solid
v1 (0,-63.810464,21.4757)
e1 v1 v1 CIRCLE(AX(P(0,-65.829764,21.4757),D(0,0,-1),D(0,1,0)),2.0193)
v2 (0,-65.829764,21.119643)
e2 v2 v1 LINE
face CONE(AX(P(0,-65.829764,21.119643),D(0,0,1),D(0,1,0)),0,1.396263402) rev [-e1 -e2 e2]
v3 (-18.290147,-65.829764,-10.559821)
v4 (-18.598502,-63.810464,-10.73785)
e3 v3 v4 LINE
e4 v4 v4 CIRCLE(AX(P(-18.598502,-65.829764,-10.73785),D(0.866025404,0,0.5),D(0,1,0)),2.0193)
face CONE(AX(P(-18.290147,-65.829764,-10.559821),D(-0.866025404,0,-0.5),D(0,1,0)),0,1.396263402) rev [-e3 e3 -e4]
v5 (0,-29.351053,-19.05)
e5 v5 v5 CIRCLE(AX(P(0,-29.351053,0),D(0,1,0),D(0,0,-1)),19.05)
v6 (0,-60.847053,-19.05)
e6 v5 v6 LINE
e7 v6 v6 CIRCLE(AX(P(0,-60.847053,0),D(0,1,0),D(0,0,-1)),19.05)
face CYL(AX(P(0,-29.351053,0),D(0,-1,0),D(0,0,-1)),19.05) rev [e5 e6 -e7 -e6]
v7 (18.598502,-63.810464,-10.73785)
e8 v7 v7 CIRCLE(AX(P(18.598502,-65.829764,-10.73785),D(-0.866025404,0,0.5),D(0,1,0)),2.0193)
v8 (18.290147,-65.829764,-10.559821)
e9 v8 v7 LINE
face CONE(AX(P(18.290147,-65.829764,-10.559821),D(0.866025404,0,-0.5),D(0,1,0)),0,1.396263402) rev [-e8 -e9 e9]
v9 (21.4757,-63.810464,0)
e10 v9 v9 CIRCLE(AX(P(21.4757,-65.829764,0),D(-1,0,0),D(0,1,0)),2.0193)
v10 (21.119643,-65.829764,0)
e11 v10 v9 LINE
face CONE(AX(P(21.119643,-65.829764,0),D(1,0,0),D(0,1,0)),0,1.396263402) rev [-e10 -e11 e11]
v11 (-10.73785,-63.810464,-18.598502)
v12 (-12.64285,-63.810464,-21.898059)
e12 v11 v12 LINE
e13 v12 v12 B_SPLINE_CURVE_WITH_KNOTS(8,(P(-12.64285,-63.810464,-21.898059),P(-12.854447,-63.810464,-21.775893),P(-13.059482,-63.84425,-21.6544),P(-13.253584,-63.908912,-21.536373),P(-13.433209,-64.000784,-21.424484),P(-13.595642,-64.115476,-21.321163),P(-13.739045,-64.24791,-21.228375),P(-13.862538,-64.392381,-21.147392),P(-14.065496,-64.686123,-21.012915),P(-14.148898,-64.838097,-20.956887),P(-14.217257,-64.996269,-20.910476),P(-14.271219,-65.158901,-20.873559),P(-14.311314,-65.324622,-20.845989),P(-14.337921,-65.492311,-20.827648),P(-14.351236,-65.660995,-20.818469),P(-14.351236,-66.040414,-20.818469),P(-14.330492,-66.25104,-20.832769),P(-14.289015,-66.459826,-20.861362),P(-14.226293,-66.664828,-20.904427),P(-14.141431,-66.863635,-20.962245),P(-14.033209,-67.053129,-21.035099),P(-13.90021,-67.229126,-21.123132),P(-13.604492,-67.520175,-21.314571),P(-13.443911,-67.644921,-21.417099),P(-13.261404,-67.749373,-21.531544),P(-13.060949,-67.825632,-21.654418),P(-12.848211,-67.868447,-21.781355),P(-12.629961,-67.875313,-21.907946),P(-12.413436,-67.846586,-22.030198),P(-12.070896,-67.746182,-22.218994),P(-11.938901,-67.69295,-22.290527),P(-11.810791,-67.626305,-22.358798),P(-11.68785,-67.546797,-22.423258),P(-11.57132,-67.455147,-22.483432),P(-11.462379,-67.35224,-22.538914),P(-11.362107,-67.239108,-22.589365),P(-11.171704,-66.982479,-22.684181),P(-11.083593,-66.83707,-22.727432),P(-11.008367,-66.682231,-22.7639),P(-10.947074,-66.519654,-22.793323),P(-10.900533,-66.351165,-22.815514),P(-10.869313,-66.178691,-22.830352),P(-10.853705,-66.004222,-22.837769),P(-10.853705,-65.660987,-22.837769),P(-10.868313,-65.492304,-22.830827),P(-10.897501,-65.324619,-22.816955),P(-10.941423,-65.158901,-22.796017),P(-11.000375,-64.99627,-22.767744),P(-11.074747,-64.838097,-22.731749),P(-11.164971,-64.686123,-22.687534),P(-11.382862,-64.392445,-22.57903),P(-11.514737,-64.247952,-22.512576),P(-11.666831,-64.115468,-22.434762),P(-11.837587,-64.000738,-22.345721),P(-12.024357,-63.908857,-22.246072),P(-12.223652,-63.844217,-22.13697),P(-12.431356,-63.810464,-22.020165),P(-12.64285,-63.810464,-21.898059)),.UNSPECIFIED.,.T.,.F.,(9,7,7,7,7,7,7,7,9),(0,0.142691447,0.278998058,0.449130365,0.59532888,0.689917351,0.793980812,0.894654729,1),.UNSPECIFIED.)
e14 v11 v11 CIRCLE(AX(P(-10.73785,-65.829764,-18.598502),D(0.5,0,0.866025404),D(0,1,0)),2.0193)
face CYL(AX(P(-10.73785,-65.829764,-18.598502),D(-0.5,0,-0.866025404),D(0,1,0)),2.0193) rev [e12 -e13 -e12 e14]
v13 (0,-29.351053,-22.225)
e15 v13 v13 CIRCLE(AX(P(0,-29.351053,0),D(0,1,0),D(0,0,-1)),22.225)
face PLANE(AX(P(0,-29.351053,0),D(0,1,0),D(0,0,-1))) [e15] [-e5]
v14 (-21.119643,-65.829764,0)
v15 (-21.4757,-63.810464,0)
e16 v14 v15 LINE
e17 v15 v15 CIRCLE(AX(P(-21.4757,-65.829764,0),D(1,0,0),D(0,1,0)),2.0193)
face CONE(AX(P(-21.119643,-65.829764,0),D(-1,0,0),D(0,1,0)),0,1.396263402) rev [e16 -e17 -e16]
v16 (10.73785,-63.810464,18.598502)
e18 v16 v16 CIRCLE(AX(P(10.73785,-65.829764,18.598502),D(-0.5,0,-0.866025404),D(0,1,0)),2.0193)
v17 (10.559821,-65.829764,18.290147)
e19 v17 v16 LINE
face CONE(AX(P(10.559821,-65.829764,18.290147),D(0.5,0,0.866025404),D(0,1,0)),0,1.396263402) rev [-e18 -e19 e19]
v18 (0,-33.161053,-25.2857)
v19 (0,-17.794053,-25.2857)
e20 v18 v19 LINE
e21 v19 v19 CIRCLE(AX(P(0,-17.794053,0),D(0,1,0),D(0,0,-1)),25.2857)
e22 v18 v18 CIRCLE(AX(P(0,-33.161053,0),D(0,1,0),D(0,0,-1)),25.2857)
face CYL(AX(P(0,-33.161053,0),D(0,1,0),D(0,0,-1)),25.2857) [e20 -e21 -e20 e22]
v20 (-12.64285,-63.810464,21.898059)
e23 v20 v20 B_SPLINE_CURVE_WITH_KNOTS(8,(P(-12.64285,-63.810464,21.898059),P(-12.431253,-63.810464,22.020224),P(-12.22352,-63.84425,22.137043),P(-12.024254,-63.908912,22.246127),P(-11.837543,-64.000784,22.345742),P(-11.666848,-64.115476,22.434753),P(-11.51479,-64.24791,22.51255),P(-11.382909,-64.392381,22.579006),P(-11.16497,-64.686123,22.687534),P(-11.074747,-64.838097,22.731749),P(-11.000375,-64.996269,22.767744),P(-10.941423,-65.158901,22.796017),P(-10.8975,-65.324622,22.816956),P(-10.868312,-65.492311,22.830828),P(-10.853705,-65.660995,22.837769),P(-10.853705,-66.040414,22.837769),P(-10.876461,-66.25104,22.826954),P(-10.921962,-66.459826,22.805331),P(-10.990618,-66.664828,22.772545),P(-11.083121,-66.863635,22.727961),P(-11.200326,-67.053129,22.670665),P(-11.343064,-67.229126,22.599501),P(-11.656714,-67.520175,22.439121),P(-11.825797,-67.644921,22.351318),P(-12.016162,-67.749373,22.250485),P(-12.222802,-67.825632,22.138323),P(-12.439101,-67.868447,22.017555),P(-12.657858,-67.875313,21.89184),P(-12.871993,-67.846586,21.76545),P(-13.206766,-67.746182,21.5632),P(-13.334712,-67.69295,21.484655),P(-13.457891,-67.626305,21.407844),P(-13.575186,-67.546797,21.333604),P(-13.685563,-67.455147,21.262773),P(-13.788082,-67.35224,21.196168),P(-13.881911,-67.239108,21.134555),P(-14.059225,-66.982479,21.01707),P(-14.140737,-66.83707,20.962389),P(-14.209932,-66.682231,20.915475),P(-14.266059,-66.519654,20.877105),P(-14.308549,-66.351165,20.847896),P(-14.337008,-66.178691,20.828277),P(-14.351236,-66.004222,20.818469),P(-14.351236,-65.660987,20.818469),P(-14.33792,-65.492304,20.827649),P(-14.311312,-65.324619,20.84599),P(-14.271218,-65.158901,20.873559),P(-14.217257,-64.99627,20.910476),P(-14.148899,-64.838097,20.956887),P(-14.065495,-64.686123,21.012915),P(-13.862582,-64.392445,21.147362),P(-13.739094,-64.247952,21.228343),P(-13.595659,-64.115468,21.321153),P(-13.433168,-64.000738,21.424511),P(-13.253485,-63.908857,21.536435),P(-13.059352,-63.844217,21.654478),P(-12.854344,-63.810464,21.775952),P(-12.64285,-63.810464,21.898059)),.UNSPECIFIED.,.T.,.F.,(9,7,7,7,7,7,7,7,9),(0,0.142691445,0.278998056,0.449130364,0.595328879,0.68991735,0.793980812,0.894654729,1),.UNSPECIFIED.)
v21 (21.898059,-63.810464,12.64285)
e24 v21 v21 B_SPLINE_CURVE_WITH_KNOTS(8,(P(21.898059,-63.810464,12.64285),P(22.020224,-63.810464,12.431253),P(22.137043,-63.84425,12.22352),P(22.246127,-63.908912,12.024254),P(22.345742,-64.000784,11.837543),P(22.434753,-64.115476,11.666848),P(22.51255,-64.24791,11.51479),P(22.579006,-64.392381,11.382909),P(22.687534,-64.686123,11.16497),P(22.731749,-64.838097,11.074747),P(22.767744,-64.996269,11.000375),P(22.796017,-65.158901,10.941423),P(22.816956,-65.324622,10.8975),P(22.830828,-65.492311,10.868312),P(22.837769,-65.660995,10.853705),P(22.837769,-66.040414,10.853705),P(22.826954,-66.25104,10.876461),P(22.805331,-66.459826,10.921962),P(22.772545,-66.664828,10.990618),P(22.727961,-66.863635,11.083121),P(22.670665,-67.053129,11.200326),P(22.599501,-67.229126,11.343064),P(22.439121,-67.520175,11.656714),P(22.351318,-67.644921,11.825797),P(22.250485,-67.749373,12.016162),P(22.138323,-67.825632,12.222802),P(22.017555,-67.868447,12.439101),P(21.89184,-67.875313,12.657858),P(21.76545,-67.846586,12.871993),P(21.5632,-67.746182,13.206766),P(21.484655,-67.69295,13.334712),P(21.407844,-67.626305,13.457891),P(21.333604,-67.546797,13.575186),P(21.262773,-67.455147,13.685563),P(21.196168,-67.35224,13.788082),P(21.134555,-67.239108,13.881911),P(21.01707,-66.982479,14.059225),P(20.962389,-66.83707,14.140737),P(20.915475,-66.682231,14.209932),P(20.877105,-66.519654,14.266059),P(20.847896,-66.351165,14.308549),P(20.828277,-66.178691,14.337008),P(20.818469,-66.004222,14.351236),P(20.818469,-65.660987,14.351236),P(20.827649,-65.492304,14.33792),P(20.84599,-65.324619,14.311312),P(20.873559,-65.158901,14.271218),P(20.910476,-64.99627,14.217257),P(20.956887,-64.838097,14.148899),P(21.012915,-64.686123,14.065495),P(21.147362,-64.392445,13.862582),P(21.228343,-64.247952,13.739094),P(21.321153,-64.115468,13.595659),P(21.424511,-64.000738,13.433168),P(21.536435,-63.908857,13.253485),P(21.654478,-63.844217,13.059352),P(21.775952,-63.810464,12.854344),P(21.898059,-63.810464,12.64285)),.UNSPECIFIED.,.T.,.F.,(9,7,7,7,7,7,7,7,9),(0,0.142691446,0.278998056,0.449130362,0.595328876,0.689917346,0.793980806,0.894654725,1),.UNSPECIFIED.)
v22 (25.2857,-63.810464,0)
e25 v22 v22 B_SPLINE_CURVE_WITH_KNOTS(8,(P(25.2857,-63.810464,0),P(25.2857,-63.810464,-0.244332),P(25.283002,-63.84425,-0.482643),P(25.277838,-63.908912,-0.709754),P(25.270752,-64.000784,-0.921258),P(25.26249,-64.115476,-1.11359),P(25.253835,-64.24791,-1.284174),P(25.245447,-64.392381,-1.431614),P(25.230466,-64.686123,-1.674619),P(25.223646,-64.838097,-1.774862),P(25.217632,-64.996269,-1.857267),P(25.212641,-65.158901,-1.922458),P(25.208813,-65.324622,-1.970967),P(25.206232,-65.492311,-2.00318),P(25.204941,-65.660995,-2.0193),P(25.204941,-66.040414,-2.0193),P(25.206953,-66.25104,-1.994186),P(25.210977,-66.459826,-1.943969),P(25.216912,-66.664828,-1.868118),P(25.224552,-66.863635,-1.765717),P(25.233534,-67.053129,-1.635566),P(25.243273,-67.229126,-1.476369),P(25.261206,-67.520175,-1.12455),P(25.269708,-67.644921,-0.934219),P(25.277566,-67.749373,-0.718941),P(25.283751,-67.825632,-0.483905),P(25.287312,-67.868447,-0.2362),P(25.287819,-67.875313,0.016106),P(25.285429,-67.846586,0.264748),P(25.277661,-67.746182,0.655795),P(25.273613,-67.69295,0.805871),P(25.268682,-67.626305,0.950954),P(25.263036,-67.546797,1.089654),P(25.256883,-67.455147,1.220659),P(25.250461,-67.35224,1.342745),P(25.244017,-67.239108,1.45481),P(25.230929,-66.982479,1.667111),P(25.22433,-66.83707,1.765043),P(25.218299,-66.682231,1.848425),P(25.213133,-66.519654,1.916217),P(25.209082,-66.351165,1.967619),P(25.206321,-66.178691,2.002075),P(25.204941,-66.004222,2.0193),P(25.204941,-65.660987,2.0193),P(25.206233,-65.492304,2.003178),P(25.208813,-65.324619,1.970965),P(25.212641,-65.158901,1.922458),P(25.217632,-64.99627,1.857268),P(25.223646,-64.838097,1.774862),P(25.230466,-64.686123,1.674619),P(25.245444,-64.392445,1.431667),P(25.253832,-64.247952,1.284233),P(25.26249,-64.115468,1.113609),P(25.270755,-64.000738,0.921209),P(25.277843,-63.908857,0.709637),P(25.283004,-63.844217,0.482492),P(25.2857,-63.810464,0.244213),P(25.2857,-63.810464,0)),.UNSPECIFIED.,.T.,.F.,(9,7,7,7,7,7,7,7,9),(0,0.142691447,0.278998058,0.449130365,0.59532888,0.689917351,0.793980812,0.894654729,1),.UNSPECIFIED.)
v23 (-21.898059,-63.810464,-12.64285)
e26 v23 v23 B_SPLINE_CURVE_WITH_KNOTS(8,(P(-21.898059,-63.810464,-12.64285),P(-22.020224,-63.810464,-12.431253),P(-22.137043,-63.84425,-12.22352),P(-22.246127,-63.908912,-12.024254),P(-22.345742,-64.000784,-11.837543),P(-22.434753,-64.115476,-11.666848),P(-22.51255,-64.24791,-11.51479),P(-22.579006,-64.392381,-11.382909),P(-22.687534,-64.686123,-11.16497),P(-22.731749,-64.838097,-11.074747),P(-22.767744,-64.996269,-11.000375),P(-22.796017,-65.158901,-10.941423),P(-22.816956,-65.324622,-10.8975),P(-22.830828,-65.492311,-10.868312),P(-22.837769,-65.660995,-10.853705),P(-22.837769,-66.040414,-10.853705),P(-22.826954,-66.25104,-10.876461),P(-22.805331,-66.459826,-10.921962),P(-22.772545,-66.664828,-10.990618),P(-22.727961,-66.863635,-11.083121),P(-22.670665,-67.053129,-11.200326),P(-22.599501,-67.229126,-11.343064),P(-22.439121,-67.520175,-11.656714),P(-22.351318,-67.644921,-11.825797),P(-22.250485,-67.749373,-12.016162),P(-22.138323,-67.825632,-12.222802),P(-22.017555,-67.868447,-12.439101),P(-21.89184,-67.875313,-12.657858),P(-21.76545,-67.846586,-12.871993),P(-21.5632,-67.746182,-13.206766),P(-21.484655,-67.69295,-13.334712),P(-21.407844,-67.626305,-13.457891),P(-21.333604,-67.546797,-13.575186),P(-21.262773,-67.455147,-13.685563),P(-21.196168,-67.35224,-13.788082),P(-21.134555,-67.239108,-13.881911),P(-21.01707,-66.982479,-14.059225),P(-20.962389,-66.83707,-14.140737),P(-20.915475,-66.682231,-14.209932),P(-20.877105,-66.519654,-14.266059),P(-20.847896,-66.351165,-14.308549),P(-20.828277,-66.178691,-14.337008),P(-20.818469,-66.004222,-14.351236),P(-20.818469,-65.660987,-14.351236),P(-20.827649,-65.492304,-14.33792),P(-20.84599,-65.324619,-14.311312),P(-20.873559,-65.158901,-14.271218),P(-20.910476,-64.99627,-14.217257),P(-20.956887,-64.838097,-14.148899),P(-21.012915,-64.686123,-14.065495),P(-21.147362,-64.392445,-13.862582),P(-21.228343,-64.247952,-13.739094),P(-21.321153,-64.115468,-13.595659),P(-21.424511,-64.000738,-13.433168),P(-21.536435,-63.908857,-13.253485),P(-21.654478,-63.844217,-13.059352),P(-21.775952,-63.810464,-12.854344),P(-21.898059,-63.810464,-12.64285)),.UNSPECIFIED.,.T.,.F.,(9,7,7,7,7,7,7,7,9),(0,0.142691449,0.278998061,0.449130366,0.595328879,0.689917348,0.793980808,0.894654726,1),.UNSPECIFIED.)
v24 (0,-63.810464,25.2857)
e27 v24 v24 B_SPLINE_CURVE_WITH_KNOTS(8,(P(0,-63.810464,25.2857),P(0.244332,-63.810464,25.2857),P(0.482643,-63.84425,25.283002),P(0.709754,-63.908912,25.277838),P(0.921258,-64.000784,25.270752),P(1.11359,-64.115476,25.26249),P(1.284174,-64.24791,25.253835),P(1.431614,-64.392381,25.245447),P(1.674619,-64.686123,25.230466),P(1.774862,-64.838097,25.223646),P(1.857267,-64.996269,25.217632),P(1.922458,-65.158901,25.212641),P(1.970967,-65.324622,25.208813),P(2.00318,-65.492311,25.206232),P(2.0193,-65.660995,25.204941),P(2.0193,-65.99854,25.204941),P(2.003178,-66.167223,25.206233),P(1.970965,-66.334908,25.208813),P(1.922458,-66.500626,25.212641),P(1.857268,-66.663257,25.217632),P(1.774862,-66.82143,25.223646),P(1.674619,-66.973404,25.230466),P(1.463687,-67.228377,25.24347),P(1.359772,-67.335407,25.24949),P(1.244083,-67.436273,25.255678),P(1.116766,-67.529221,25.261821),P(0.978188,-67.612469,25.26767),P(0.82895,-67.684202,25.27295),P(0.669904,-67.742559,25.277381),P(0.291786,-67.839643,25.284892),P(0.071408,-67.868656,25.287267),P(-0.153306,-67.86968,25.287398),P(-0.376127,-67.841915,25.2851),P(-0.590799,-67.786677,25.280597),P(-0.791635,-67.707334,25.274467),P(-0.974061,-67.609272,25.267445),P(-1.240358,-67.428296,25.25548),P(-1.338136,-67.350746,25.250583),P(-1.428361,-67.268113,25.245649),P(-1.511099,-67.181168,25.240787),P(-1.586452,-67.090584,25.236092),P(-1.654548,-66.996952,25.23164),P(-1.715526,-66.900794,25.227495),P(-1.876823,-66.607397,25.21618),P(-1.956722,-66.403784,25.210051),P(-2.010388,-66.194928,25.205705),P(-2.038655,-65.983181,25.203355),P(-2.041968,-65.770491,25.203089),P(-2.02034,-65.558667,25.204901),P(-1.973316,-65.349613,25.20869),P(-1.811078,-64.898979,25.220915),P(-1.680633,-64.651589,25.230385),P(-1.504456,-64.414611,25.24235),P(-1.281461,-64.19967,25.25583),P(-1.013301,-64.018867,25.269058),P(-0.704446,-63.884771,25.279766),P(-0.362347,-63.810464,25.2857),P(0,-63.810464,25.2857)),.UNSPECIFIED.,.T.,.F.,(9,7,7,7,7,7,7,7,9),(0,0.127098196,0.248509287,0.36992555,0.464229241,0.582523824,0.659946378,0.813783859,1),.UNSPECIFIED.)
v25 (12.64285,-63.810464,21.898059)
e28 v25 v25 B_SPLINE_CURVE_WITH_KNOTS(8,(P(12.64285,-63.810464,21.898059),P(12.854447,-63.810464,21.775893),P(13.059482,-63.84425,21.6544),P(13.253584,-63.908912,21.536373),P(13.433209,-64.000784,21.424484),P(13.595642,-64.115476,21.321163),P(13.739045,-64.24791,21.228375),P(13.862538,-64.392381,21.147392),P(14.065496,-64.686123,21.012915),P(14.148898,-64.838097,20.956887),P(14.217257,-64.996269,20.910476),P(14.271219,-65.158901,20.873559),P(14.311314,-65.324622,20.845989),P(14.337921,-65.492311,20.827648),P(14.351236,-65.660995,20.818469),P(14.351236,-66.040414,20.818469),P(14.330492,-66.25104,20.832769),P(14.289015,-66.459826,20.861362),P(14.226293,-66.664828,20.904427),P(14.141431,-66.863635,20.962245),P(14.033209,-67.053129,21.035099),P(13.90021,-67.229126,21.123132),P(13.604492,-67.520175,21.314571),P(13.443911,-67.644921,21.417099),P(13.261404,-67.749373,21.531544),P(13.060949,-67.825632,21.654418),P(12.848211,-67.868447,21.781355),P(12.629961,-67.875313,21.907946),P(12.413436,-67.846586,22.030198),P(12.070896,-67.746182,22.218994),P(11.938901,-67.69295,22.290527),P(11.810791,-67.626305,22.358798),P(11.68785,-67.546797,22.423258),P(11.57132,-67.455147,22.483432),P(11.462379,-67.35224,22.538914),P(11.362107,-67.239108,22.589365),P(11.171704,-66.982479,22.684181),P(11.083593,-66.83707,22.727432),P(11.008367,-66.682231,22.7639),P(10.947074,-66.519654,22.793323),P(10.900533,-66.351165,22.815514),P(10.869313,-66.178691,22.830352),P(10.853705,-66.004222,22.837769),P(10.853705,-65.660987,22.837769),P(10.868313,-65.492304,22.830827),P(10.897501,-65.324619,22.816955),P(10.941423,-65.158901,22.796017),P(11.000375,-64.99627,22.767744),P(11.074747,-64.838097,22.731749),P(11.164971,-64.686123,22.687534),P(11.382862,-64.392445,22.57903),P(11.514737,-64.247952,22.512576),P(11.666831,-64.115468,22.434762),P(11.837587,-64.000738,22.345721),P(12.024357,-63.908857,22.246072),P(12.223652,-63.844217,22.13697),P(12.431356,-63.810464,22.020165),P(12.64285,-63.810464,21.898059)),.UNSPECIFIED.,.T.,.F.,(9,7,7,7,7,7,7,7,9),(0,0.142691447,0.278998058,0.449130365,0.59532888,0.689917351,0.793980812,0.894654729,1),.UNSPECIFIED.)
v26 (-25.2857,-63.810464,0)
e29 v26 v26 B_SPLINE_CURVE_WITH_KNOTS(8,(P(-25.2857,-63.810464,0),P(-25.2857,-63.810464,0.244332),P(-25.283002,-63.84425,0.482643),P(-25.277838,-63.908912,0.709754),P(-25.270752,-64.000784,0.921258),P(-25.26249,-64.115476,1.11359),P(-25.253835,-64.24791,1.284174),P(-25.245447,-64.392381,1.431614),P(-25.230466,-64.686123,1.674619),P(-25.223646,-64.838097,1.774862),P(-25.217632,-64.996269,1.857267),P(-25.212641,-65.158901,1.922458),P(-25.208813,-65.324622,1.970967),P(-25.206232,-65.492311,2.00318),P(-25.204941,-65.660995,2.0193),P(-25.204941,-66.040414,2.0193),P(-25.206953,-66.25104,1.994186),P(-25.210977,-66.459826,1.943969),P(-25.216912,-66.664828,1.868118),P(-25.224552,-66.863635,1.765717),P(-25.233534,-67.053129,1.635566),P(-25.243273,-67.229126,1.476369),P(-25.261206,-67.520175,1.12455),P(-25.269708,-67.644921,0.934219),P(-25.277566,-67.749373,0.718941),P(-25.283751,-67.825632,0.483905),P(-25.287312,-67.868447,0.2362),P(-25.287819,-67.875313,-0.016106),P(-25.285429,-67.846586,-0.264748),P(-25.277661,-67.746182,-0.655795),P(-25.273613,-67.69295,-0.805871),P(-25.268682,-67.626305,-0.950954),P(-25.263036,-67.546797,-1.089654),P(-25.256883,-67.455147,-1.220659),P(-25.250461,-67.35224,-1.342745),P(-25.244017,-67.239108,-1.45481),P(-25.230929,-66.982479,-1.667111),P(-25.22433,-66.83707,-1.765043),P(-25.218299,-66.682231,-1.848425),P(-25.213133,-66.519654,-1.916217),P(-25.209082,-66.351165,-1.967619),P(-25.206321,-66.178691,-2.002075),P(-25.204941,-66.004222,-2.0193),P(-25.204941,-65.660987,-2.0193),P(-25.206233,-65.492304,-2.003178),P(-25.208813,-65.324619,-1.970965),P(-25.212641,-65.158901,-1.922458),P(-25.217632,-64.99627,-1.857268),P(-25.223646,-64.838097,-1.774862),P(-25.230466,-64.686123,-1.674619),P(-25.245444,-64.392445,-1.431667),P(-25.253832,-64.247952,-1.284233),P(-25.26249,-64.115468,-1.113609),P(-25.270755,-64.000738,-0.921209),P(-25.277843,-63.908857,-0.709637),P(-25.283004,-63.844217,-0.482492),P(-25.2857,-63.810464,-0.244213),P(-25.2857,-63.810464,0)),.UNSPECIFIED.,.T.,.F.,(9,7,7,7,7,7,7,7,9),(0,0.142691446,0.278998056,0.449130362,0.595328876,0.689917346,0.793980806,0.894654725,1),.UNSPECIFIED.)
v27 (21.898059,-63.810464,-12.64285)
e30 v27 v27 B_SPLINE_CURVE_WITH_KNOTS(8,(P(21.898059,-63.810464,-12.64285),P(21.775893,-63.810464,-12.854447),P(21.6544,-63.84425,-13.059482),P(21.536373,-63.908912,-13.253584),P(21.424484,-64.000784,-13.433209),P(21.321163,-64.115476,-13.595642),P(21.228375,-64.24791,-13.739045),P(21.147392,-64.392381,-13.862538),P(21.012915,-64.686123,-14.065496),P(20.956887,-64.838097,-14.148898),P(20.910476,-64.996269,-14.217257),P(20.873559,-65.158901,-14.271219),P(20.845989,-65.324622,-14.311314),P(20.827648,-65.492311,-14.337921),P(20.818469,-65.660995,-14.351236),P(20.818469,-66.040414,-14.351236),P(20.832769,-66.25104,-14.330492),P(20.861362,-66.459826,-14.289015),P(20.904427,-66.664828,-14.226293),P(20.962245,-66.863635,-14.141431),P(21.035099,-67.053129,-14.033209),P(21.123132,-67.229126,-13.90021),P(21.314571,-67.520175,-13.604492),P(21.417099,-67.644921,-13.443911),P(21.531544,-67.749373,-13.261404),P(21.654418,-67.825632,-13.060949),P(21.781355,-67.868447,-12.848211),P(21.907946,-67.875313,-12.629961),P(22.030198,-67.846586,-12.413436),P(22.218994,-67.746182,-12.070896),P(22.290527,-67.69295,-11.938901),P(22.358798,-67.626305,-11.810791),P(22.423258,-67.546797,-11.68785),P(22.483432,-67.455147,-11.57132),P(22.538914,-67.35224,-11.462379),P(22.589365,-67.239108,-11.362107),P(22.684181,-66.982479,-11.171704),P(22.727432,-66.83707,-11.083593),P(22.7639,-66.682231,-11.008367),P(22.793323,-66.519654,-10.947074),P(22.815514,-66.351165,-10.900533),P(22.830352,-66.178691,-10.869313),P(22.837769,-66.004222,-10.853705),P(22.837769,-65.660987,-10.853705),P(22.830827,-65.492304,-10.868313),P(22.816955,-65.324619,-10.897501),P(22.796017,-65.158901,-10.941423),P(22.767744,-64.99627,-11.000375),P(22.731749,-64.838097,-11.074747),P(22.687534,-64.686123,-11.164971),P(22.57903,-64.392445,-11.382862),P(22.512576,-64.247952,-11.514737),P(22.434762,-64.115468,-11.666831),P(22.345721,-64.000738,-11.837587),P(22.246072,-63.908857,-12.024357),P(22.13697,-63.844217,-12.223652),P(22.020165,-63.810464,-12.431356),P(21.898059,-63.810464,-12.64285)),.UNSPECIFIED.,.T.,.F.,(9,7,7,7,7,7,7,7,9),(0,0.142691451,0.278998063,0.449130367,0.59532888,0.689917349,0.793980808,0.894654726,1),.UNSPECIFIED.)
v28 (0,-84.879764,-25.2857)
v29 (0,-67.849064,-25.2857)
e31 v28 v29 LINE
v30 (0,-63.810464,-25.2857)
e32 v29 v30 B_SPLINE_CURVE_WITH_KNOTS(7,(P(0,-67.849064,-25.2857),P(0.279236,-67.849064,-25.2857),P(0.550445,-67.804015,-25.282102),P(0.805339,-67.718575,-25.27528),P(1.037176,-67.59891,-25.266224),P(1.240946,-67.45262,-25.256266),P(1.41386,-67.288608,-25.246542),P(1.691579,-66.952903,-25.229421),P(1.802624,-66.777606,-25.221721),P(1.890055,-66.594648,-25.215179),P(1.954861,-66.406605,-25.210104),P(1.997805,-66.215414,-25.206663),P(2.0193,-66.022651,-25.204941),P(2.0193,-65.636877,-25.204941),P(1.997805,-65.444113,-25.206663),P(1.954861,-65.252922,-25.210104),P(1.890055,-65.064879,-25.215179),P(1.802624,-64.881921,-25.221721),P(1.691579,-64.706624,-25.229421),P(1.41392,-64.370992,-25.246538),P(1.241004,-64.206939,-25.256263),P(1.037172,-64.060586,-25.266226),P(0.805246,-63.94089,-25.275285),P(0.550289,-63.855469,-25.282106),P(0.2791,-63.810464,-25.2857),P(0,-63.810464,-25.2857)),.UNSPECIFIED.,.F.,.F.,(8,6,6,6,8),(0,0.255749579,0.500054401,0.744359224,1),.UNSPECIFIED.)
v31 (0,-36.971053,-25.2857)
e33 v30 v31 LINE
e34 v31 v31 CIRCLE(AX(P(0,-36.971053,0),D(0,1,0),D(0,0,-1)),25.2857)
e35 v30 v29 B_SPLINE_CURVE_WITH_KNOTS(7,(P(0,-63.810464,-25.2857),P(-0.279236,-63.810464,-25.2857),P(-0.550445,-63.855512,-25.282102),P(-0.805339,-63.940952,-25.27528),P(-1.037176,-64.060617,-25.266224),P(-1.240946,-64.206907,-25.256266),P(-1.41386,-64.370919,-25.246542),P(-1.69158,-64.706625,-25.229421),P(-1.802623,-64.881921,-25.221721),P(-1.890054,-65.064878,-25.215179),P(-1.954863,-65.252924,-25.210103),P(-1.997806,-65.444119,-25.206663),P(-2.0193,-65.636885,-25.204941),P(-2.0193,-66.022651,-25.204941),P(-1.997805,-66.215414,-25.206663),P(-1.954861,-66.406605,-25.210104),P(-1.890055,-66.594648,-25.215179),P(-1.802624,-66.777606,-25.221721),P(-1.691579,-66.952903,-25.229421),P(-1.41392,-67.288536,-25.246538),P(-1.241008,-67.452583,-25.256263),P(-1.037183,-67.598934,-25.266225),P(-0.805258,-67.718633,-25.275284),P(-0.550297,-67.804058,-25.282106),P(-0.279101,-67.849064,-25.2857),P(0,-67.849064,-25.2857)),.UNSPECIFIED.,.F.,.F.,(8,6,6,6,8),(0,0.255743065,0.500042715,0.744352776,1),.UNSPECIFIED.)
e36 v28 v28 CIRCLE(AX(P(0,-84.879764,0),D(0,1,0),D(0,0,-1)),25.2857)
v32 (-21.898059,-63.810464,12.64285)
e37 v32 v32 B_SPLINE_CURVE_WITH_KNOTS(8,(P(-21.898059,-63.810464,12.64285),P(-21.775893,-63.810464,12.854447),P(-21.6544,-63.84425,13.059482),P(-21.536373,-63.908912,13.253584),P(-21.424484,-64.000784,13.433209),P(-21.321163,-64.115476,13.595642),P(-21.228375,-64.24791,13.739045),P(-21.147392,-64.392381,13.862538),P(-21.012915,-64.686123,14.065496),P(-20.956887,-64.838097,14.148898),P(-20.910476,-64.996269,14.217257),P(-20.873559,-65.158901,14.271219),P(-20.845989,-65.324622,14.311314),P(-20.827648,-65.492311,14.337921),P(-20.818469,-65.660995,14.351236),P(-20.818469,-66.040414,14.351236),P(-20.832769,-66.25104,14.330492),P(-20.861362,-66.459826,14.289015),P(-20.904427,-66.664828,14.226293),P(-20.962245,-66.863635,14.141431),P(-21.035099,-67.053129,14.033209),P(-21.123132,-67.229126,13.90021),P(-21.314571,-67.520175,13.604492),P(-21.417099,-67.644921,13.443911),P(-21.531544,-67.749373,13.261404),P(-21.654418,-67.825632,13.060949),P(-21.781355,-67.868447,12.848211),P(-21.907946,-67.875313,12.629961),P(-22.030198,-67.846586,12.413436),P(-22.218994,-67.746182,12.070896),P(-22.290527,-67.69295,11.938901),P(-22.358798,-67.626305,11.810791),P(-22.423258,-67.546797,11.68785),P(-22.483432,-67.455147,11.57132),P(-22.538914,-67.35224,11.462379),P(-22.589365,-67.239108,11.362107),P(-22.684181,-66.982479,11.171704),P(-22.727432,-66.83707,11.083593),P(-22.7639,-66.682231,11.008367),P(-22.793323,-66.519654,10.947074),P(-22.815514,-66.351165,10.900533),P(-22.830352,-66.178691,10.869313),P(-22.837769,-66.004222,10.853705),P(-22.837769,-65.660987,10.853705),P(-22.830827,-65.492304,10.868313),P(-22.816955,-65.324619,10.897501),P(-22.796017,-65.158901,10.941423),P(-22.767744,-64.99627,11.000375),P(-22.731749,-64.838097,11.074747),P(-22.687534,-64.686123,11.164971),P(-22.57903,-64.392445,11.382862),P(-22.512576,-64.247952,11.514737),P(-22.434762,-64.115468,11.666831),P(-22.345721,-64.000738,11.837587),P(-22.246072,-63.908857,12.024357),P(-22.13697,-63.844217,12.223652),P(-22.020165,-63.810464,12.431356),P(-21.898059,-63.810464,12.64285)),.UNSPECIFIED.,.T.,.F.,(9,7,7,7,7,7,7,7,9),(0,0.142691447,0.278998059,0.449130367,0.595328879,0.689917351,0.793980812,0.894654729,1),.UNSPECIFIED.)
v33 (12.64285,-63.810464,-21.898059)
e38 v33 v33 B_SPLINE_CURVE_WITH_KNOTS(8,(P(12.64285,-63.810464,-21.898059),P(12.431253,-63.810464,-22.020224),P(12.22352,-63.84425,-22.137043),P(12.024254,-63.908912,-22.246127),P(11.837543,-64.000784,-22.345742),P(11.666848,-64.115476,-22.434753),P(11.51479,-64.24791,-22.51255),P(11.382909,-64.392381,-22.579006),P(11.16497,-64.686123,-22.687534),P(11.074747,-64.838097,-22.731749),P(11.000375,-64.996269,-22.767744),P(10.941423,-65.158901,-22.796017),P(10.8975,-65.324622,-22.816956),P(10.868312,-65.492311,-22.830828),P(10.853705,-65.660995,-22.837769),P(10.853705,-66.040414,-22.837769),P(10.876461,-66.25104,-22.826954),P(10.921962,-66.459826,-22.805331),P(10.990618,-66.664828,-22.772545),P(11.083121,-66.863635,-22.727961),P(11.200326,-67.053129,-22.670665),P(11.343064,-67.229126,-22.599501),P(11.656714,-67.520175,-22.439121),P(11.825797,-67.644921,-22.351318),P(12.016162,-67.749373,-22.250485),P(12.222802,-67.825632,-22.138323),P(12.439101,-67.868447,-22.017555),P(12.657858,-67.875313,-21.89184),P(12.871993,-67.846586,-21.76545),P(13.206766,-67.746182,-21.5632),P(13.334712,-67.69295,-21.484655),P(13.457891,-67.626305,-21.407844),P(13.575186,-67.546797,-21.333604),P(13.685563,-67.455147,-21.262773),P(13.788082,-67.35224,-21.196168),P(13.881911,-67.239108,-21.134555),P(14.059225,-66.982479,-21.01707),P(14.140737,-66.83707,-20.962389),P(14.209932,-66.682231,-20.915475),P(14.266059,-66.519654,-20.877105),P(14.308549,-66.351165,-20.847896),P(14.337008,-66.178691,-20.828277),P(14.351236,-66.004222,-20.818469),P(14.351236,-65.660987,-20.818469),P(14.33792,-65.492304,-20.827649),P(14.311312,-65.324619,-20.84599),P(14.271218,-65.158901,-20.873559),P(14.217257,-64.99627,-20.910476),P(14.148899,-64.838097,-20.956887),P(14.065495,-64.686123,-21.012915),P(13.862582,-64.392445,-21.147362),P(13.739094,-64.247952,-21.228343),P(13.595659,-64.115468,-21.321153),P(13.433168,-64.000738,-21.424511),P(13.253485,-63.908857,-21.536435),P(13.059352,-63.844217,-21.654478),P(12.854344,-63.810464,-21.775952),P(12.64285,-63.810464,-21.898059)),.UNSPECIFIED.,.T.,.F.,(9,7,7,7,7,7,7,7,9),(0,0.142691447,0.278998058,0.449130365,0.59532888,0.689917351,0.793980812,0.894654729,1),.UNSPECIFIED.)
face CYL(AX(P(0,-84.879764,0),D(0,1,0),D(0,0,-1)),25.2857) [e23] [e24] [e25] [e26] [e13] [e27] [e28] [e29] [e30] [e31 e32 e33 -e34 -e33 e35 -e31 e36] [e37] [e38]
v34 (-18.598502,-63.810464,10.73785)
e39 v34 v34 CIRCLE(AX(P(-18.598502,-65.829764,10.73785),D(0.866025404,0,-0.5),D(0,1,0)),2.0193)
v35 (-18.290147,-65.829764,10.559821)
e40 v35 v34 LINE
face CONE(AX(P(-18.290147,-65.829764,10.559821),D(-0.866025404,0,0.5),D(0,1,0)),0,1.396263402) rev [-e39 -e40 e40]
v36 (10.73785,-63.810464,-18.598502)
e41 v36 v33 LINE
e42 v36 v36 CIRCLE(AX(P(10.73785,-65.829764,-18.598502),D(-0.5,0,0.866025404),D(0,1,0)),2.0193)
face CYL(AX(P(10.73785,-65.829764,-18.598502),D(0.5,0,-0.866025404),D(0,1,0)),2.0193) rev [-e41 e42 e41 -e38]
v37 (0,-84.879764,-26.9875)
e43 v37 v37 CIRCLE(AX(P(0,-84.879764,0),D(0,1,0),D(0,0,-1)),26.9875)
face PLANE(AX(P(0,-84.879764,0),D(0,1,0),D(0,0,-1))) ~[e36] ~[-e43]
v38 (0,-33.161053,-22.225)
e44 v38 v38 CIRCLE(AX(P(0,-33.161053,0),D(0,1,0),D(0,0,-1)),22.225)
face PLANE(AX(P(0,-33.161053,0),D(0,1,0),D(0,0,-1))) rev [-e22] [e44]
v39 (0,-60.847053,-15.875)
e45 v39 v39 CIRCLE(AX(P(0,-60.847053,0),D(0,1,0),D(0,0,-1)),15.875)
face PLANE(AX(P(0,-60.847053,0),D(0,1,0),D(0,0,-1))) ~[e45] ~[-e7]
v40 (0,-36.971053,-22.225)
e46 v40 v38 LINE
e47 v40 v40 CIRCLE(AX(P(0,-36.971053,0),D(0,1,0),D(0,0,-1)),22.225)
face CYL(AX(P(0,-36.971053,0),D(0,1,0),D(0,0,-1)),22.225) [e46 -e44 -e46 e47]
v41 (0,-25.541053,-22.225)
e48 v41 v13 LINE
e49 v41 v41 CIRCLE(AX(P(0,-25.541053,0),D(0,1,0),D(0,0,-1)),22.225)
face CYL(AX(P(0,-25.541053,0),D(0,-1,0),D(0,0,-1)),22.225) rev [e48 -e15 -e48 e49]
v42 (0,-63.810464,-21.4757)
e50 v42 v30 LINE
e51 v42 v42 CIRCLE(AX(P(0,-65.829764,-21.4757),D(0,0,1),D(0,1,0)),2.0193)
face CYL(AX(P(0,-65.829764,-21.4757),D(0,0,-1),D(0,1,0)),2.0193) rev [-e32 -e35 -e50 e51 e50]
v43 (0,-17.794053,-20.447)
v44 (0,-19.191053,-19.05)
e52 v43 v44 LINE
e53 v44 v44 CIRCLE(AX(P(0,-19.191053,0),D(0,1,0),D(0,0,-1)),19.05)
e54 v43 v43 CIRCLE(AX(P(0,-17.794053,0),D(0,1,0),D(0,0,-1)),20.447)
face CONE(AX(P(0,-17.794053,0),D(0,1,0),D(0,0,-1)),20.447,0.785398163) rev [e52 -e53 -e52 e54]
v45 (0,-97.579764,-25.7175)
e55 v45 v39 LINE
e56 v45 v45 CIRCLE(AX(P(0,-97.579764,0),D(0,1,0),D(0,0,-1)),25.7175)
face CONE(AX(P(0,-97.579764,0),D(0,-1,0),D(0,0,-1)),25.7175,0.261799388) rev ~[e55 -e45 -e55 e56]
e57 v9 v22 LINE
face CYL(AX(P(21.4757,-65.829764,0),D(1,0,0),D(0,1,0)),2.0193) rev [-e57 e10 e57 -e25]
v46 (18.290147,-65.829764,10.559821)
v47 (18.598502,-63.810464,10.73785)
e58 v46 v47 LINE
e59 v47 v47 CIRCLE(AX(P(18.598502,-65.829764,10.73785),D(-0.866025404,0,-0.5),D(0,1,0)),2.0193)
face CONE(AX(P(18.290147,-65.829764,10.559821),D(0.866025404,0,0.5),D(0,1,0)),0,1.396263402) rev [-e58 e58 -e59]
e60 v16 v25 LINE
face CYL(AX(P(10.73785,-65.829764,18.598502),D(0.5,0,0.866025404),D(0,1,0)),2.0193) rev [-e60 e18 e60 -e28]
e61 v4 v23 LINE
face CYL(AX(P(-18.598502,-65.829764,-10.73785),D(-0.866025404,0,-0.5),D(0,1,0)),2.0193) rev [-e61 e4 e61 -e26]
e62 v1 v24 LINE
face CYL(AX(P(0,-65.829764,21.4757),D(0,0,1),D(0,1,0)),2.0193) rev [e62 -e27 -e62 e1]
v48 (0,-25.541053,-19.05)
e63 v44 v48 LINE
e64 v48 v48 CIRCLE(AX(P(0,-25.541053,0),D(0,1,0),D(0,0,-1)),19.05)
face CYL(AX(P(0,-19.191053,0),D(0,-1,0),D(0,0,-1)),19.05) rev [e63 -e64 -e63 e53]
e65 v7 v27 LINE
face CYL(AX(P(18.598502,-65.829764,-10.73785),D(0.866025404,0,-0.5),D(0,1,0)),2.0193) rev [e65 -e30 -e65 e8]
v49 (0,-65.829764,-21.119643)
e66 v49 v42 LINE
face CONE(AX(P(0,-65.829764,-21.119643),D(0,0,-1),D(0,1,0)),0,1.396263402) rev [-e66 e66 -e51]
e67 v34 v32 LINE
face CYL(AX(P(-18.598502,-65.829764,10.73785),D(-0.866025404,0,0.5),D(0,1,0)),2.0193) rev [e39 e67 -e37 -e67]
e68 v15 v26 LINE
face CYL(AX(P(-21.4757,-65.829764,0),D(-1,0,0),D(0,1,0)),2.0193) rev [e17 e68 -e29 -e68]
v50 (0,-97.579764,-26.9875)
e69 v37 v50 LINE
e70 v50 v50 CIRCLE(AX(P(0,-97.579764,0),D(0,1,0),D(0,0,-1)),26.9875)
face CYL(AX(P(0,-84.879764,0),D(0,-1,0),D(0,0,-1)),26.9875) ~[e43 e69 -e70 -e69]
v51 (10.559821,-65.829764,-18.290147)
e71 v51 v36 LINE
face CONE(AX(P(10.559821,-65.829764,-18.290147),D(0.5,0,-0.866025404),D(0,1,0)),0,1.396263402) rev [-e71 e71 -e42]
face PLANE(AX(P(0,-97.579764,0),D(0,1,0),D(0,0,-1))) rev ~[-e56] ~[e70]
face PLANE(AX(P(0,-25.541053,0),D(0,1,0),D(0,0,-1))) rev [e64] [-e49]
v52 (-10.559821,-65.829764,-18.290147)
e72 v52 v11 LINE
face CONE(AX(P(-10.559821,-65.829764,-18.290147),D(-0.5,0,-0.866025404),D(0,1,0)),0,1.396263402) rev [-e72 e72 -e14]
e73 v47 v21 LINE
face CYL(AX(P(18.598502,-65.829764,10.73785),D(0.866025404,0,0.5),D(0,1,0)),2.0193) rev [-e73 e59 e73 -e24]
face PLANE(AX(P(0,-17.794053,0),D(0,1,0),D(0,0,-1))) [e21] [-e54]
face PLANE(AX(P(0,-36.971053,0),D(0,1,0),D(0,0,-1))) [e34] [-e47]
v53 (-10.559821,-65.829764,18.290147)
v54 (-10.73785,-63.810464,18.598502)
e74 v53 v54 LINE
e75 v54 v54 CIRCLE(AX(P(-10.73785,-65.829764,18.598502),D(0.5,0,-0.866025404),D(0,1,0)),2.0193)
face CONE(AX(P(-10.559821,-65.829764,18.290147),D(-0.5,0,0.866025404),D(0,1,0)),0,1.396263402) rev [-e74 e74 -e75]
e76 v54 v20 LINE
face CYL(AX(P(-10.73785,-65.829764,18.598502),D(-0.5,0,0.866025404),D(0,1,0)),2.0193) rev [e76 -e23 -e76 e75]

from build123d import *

# Parameters (mm, degrees)
CIRPATTERN1_COUNT = 12


with BuildPart() as part:
    # Sketch1 → Revolve1 (revolve)
    with BuildSketch(Plane.XY, mode=Mode.PRIVATE) as revolve1_sk:
        Polygon((19.05, -29.351053449), (19.05, -60.847053449), (25.2857, -60.847053449), (25.2857, -36.971053449), (22.225, -36.971053449), (22.225, -33.161053449), (25.2857, -33.161053449), (25.2857, -17.794053449), (20.447, -17.794053449), (19.05, -19.191053449), (19.05, -25.541053449), (22.225, -25.541053449), (22.225, -29.351053449), align=None)
        Polygon((25.2857, -84.879763523), (26.9875, -84.879763523), (26.9875, -97.579763523), (25.7175, -97.579763523), (15.875, -60.847053449), (19.05, -60.847053449), (25.2857, -60.847053449), align=None)
    revolve(revolve1_sk.sketch.rotate(Axis((0, 0, 0), (0, 1, 0)), 90), axis=Axis((0, 0, 0), (0, 1, 0)))

    # Sketch3 → #10-32 Tapped Hole1 (revolve, cut)
    with BuildSketch(Plane(origin=(0, -65.829763523, -25.2857), x_dir=(0, 1, 0), z_dir=(1, 0, 0))):
        Polygon((0, 0), (0, 4.166057072), (2.0193, 3.81), (2.0193, 0), align=None)
    f_10_32_tapped_hole1 = revolve(axis=Axis((0, -65.829763523, -31.6357), (0, 0, 1)), mode=Mode.SUBTRACT)

    # CirPattern1: #10-32 Tapped Hole1 ×12 about axis
    cirpattern1_axis = Axis((0, 0, 0), (0, -1, 0))
    for i in range(1, CIRPATTERN1_COUNT):
        add(f_10_32_tapped_hole1.rotate(cirpattern1_axis, i * 360 / CIRPATTERN1_COUNT), mode=Mode.SUBTRACT)


solid = part.part
